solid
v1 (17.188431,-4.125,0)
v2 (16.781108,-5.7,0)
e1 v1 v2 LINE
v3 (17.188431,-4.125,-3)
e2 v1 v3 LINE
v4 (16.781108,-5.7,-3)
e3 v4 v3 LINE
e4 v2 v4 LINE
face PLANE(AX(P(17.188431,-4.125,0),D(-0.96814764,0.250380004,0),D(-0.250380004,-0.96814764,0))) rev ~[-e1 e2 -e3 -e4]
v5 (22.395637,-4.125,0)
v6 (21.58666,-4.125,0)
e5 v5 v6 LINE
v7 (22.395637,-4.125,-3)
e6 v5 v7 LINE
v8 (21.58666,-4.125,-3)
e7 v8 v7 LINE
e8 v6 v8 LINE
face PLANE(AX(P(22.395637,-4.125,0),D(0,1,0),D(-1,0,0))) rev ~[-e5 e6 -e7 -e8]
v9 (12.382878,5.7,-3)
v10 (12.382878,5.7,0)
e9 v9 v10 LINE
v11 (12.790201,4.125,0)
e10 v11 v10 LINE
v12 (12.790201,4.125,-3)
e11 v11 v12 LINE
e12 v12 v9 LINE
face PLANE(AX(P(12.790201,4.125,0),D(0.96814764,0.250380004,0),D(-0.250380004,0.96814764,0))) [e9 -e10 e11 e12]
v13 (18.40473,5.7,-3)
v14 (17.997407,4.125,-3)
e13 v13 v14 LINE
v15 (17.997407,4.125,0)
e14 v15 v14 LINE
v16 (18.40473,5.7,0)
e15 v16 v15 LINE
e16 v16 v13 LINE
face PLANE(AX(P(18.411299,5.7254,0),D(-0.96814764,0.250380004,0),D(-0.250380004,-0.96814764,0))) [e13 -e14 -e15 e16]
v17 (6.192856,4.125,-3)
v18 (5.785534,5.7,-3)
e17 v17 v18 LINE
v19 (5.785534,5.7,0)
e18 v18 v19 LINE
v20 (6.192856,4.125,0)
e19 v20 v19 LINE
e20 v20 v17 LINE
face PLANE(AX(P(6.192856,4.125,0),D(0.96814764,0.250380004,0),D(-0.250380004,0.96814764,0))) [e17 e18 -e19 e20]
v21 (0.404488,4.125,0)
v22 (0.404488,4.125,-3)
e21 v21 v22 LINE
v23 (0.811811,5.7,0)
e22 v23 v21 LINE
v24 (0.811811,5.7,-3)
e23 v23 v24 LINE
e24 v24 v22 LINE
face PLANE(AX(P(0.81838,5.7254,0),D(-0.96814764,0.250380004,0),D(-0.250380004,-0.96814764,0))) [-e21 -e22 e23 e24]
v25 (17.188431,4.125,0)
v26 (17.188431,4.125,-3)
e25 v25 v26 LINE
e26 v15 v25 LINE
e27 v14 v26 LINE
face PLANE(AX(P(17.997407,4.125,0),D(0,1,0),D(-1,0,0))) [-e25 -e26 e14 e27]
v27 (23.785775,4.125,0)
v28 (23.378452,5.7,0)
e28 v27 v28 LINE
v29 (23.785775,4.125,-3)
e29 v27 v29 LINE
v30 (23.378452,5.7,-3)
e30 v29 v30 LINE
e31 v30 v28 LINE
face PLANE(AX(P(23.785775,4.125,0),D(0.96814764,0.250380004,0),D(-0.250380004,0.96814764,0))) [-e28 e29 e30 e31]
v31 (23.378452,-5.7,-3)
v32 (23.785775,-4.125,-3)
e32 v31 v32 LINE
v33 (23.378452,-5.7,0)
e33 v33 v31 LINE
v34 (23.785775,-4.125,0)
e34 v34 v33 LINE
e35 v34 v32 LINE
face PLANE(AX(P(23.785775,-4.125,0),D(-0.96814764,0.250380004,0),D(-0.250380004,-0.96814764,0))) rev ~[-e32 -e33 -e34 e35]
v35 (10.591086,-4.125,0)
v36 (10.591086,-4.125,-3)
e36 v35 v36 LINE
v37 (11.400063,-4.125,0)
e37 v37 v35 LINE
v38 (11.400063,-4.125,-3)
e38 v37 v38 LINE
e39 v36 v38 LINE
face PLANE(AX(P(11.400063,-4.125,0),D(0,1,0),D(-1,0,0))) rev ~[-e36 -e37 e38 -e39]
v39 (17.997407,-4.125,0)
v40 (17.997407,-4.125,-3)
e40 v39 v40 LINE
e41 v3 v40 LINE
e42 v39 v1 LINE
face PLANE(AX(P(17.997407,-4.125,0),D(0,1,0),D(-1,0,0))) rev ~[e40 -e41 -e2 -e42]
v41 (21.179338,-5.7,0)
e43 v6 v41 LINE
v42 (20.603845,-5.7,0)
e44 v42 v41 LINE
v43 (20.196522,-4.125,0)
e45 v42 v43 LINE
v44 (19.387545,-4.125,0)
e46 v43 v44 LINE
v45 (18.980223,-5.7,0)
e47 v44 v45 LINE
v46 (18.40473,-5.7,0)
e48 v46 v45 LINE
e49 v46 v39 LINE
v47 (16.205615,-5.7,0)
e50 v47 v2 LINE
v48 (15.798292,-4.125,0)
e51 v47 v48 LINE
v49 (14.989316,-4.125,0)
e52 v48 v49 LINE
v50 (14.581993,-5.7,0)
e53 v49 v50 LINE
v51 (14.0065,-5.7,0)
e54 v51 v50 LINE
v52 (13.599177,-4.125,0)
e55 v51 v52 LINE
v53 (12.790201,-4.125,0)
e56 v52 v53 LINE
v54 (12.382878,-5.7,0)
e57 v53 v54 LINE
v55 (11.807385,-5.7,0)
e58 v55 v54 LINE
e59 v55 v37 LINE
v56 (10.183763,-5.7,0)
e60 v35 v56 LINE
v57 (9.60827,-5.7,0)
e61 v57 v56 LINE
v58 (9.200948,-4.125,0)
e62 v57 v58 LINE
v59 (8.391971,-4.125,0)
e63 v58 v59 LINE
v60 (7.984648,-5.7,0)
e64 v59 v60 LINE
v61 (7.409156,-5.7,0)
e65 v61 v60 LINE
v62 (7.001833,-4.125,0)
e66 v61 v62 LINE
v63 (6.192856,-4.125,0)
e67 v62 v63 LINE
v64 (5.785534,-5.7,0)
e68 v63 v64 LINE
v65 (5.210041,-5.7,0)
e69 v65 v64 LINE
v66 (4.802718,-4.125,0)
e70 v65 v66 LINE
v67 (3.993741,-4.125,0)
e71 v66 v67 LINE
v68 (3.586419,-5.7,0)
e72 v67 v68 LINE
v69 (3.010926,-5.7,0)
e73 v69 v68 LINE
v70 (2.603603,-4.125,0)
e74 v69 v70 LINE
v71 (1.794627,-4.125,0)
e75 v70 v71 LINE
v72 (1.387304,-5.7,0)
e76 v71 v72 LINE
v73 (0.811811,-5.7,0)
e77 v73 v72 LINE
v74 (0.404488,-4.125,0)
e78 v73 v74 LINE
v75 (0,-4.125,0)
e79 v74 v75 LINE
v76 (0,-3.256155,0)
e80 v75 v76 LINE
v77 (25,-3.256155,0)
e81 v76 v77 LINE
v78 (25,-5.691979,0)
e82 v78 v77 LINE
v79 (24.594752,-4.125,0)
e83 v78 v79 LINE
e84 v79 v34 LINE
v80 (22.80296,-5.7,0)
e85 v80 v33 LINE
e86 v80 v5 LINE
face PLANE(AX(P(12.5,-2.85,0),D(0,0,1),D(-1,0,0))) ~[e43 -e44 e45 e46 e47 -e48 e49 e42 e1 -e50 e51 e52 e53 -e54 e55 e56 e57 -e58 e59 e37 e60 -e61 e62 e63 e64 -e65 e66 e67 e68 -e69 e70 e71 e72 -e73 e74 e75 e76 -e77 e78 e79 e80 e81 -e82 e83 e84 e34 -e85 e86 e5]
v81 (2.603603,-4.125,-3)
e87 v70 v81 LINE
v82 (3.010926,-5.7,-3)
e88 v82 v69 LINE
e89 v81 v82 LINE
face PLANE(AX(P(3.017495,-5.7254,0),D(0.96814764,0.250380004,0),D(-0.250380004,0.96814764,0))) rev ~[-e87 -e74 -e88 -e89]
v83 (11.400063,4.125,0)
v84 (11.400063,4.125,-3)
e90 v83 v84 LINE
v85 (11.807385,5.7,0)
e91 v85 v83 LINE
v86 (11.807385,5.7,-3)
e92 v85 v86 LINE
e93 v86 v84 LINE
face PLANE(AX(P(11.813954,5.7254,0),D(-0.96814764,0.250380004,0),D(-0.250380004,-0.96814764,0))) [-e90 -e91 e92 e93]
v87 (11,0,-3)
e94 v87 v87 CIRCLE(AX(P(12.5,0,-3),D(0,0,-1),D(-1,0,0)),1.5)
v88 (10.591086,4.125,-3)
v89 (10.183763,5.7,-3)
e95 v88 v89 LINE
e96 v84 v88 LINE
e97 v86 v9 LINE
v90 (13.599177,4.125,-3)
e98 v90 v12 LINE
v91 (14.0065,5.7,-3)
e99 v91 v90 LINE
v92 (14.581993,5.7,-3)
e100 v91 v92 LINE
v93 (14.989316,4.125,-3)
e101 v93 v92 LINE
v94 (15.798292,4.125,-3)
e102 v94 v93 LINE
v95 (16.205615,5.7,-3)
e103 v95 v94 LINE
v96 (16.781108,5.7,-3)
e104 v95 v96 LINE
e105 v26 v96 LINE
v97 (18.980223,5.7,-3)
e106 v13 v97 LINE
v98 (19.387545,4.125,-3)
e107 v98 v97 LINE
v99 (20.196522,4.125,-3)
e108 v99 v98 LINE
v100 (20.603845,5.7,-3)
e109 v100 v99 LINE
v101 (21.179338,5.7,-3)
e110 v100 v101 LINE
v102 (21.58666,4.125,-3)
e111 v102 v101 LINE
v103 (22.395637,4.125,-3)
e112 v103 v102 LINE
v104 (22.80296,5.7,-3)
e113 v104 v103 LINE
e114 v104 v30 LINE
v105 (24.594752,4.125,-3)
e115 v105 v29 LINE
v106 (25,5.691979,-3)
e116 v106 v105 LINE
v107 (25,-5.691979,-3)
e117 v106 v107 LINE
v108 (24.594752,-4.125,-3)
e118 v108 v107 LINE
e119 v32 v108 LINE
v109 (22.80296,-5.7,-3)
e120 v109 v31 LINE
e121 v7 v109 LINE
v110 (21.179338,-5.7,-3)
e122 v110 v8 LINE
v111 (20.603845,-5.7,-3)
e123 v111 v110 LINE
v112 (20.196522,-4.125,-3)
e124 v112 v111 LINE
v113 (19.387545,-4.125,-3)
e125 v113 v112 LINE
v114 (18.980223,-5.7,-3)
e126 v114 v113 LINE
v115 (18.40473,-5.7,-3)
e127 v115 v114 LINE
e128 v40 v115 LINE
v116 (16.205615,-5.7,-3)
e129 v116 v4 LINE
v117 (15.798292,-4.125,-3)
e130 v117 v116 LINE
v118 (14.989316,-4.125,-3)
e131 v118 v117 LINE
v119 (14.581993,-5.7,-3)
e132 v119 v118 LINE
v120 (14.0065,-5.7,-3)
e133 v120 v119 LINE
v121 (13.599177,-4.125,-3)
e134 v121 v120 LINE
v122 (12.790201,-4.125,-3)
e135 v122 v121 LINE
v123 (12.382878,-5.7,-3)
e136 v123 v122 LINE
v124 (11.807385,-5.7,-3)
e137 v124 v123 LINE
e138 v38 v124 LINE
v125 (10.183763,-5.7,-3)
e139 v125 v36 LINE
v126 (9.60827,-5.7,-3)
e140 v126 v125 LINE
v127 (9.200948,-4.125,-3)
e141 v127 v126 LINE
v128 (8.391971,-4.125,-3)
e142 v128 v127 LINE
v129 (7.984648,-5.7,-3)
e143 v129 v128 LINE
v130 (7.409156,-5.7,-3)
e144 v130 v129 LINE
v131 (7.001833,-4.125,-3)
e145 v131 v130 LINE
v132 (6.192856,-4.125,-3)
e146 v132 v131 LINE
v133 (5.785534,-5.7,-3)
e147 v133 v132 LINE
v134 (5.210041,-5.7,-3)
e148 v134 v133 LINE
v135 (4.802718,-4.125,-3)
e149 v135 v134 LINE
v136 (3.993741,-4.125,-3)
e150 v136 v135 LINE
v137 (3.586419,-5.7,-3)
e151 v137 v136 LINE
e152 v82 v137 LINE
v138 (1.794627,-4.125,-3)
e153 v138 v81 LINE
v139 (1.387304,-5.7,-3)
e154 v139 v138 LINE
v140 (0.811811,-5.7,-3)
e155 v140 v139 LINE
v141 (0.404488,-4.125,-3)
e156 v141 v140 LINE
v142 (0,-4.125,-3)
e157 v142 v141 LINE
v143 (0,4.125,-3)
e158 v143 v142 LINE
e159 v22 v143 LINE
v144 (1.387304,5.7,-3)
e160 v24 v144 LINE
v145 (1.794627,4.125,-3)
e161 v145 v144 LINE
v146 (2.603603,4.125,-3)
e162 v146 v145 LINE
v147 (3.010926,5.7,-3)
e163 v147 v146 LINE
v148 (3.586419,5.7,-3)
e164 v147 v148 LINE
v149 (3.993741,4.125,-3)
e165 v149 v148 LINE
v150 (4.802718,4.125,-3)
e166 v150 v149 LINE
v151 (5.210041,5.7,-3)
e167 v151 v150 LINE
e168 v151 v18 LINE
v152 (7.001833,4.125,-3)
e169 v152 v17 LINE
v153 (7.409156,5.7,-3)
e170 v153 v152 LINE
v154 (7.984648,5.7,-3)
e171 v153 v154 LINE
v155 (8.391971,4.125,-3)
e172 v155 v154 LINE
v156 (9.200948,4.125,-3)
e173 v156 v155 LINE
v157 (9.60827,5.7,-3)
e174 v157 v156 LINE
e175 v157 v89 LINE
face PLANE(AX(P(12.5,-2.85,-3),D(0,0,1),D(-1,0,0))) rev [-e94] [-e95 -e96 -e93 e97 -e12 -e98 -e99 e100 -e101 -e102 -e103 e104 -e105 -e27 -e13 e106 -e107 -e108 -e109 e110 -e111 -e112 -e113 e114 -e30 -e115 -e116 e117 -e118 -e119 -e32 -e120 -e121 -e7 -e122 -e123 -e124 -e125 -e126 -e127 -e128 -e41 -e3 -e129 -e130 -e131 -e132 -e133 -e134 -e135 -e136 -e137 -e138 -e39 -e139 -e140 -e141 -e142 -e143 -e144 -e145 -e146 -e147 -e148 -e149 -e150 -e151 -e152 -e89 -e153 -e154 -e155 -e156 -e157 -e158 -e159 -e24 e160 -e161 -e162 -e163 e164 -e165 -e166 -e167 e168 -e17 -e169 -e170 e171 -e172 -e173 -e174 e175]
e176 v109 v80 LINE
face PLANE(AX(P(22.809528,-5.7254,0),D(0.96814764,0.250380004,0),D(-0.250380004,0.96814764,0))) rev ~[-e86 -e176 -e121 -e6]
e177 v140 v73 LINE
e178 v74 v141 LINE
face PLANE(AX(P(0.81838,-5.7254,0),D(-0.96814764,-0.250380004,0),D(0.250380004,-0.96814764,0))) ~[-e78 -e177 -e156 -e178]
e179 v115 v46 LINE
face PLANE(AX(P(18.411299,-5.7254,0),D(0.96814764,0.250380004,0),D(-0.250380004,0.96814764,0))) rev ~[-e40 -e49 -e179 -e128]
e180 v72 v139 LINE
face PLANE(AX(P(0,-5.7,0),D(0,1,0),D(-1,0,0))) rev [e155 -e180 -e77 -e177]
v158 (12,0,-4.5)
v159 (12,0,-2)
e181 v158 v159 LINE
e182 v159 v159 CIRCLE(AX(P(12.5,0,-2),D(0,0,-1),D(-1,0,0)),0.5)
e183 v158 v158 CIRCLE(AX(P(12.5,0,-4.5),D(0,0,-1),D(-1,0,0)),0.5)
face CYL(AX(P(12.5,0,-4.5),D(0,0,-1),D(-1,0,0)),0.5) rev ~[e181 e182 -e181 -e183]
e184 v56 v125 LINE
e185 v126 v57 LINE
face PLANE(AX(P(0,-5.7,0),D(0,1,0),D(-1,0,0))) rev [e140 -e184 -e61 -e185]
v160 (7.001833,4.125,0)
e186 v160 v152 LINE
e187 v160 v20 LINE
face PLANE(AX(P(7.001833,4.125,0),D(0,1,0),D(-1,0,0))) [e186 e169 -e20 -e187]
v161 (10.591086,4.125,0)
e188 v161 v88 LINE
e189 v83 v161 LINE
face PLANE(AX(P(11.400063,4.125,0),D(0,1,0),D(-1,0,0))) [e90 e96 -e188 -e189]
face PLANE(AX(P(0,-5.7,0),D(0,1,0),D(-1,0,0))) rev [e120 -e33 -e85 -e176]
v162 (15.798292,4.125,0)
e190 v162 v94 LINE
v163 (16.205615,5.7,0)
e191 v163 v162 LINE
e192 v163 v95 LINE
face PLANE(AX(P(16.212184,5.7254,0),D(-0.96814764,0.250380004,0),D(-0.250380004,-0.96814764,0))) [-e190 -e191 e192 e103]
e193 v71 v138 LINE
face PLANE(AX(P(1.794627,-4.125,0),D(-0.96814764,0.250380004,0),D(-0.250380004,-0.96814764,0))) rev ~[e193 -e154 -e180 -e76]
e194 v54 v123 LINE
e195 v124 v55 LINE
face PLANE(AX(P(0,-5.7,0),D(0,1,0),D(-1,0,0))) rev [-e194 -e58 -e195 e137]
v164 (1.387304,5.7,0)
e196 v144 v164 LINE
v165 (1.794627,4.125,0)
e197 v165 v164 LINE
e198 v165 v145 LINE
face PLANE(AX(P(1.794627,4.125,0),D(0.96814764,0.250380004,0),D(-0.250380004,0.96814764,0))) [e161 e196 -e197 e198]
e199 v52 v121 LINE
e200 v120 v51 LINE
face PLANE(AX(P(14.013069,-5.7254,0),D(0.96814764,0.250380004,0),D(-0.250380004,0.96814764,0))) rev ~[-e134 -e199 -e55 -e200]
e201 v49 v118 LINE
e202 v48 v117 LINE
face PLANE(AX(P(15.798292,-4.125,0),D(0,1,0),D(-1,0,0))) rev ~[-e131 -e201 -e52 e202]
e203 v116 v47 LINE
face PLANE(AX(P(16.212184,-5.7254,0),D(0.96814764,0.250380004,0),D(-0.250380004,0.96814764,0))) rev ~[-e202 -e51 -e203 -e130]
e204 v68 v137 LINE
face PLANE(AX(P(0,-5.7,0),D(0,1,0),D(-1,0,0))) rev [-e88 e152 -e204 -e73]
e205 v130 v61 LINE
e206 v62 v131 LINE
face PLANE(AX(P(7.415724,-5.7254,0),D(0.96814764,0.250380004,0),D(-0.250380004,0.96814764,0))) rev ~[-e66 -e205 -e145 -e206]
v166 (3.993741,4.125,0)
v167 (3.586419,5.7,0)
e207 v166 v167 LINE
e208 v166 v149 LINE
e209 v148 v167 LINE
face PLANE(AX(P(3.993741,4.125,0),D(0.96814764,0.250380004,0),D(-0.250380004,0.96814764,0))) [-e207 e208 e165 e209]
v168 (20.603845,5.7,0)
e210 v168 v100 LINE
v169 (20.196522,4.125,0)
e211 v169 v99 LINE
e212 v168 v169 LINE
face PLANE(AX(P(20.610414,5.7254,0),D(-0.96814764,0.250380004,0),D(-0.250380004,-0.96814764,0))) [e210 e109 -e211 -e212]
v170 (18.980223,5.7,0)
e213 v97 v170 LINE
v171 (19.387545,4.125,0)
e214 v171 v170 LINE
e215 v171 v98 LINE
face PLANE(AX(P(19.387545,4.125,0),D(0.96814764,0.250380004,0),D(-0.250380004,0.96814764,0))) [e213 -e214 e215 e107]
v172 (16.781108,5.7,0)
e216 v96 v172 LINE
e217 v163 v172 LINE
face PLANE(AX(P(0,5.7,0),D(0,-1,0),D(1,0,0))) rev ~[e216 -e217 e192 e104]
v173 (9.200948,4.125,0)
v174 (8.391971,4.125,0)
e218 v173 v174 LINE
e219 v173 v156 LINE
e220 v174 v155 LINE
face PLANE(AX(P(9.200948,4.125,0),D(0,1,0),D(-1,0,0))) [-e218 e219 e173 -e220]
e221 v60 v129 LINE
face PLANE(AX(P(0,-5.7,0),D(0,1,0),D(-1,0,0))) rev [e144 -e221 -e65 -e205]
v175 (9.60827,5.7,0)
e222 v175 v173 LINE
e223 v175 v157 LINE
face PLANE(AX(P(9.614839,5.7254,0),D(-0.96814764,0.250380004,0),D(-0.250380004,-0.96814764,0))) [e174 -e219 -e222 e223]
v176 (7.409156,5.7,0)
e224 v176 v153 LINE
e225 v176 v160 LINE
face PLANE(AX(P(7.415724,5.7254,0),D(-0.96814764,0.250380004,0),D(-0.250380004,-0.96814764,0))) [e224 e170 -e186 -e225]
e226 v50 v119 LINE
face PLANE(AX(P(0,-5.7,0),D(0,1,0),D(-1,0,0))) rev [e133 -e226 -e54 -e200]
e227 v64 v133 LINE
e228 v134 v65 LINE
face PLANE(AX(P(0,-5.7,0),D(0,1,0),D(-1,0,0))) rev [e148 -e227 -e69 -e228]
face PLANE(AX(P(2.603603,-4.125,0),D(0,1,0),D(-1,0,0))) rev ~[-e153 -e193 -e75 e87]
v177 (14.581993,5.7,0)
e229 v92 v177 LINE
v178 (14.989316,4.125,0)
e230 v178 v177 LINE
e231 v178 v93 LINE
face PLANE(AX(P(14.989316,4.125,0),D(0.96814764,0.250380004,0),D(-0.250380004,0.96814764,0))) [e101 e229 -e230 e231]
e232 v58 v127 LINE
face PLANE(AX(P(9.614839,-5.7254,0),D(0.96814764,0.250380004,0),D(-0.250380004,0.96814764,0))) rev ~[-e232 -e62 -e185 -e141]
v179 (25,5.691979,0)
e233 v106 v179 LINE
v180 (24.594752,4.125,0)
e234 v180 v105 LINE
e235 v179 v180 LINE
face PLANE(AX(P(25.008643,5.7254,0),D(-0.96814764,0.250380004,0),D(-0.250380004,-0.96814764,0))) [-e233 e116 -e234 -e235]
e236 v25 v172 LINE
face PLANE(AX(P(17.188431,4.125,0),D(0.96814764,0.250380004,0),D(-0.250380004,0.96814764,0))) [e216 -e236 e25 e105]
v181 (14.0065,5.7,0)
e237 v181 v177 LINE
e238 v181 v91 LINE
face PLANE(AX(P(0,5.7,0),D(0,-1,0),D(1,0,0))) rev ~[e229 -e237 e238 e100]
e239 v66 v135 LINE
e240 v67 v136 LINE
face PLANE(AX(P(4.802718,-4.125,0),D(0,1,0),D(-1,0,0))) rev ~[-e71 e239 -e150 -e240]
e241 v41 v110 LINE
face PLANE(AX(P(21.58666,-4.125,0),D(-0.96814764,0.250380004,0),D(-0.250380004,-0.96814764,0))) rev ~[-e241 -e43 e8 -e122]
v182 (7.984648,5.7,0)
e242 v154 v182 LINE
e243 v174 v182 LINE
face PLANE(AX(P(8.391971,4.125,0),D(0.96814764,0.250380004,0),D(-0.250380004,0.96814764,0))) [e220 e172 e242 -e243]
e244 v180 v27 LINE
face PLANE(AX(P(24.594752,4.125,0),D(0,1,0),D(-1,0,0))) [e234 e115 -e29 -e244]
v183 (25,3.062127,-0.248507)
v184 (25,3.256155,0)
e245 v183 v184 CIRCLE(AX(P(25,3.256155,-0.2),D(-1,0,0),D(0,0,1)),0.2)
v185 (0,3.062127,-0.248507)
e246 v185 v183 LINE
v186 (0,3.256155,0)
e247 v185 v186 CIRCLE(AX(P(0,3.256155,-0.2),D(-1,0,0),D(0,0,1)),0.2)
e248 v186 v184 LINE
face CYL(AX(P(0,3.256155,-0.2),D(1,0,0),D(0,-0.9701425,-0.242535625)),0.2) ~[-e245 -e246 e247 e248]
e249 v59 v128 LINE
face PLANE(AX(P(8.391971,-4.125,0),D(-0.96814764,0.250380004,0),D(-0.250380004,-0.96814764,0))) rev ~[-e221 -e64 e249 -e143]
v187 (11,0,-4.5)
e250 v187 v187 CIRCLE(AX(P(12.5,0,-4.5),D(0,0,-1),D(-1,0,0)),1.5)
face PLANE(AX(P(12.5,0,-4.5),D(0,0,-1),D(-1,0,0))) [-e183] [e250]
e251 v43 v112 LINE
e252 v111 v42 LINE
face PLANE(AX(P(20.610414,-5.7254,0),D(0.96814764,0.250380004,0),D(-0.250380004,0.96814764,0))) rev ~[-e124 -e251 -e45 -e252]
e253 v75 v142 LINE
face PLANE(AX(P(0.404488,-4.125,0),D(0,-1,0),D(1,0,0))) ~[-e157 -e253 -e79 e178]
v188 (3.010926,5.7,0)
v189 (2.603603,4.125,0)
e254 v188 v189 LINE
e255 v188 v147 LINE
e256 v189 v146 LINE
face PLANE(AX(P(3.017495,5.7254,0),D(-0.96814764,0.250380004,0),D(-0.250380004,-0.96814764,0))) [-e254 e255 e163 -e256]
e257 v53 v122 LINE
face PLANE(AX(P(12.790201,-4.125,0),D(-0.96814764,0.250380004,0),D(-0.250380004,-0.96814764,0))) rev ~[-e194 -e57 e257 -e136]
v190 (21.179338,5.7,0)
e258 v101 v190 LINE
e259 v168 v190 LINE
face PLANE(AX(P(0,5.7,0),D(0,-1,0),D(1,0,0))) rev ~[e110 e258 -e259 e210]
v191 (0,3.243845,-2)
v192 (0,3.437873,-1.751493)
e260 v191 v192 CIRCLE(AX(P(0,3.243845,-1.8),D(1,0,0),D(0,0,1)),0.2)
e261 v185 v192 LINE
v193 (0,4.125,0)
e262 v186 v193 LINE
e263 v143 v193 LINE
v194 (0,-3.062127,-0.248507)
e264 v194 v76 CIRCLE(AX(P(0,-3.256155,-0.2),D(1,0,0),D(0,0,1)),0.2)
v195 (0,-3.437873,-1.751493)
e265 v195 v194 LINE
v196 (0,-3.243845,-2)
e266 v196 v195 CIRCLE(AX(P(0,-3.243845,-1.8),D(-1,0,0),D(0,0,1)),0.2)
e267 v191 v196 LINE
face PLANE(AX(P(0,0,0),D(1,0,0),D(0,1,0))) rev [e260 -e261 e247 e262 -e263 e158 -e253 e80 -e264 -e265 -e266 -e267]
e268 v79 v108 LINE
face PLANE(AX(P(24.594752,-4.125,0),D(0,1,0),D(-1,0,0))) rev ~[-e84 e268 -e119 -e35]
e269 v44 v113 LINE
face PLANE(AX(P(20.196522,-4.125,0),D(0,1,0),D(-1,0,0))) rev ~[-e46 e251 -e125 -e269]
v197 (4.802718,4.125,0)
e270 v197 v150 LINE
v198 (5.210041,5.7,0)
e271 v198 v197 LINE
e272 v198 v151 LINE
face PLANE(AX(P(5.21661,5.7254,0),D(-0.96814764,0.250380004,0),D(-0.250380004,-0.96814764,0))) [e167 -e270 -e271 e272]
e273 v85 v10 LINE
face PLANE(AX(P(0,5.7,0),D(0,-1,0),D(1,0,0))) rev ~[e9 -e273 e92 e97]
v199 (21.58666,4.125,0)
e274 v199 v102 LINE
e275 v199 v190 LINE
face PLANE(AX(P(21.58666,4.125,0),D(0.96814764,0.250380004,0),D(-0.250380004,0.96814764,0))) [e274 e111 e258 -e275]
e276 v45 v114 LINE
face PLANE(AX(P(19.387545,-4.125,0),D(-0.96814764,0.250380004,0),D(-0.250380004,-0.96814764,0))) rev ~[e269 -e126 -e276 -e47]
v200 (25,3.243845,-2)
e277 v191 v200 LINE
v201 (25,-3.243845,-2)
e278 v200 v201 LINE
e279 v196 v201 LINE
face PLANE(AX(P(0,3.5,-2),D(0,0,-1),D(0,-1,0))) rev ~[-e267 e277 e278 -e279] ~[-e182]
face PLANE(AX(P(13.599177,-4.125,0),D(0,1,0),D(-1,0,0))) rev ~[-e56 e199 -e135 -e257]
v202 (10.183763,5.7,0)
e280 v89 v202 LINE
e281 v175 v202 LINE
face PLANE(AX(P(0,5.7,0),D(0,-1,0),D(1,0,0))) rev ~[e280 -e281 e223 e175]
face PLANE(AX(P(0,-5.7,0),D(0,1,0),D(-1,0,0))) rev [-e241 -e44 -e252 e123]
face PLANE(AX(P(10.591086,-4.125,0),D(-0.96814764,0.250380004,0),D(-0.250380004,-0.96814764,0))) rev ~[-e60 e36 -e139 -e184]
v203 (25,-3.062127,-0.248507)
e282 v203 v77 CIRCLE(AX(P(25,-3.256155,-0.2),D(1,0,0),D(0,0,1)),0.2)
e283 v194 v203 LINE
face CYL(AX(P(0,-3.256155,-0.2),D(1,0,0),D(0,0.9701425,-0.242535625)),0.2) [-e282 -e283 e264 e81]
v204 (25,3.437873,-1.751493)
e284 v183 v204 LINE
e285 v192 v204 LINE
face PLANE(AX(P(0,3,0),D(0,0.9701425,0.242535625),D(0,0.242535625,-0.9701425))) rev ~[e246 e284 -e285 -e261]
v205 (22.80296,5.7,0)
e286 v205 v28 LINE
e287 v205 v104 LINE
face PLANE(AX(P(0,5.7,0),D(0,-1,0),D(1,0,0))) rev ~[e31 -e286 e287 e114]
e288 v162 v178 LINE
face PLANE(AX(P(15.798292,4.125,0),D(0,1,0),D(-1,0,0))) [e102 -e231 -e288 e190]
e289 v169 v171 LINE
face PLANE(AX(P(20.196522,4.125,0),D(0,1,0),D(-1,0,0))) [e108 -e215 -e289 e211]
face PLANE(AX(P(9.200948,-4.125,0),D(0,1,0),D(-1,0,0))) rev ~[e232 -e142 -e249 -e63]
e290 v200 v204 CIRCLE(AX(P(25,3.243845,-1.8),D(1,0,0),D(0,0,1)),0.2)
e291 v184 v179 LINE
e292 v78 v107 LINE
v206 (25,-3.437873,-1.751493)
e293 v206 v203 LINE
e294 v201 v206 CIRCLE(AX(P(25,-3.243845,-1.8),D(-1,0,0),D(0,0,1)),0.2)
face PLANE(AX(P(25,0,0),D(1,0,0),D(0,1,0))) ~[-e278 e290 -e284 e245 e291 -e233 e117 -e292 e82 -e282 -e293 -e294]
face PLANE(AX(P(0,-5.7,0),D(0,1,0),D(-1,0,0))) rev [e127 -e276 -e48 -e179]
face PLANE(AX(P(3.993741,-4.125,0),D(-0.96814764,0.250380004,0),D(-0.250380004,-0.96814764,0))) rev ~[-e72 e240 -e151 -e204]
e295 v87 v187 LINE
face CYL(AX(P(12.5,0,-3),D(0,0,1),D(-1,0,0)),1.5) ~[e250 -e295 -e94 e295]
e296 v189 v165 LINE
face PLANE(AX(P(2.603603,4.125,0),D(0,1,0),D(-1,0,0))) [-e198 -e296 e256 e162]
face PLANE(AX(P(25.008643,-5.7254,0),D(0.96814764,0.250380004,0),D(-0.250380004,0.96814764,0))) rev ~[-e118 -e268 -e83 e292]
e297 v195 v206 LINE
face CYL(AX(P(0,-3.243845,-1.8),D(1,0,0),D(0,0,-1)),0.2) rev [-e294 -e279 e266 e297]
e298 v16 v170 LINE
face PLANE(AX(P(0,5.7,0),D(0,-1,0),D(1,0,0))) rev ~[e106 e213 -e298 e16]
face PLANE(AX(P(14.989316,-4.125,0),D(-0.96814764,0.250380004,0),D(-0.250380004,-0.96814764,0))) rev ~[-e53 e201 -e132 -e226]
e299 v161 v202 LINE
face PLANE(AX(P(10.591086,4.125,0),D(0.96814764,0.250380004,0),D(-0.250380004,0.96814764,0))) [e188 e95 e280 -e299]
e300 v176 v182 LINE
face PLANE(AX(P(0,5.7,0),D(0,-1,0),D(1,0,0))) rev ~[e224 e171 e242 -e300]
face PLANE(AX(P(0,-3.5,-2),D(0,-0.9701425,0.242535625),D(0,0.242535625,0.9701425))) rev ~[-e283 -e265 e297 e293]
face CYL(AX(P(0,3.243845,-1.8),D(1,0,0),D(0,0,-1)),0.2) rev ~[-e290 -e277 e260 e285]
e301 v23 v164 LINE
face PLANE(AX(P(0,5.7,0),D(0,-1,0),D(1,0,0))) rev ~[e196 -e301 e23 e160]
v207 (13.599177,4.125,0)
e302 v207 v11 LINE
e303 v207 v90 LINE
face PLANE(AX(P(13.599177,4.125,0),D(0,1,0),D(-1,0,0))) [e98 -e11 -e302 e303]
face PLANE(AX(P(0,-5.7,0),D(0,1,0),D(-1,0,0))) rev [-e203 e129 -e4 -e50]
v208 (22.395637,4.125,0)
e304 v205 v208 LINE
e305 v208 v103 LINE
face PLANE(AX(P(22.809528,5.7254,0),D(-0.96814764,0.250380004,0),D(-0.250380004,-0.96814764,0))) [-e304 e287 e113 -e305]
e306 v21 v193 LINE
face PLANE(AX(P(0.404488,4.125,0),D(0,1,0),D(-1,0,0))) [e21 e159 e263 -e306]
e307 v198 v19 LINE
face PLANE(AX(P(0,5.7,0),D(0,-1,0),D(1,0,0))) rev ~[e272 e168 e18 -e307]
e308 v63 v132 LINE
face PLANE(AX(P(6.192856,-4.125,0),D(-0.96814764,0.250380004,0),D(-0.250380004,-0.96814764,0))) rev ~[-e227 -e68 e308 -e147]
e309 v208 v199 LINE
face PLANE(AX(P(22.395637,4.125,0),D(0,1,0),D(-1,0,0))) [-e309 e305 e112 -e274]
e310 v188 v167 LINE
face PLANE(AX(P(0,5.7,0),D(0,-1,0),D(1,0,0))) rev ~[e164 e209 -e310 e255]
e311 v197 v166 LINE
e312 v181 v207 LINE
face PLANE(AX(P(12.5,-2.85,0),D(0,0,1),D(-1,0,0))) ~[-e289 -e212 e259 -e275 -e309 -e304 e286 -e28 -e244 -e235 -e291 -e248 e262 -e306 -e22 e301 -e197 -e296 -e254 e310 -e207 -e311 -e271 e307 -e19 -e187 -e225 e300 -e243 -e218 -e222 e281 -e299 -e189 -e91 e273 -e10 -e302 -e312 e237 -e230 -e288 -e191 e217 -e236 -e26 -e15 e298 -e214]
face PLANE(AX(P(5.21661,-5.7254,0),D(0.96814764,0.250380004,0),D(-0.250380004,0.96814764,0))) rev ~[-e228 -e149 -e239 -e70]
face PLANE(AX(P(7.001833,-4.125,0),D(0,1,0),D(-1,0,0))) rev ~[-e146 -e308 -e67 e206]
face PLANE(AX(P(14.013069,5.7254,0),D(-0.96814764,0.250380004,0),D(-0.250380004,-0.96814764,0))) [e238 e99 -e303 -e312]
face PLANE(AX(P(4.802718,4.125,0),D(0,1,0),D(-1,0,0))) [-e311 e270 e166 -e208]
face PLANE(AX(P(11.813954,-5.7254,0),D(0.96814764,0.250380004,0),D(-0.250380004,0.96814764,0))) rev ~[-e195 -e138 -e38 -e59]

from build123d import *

# Parameters (mm, degrees)
BLANKSKE_W             = 25
BLANKSKE_H             = 5.7
BLANK_DEPTH            = 3
TOOTHCUTSIM_DEPTH      = 26.816467613
TEETHCUTS_COUNT        = 12
TEETHCUTS_PITCH        = 2.199114855
MIRROR_2_COPY_1_DEPTH  = 26.816467613
MIRROR_2_COPY_2_DEPTH  = 26.816467613
MIRROR_2_COPY_3_DEPTH  = 26.816467613
MIRROR_2_COPY_4_DEPTH  = 26.816467613
MIRROR_2_COPY_5_DEPTH  = 26.816467613
MIRROR_2_COPY_6_DEPTH  = 26.816467613
MIRROR_2_COPY_7_DEPTH  = 26.816467613
MIRROR_2_COPY_8_DEPTH  = 26.816467613
MIRROR_2_COPY_9_DEPTH  = 26.816467613
MIRROR_2_COPY_10_DEPTH = 26.816467613
MIRROR_2_COPY_11_DEPTH = 26.816467613
CUT_EXTRUDE_2_DEPTH    = 26.816467613
FILLET_1_R             = 0.2
FILLET_2_R             = 0.2
FILLET_3_R             = 0.2
SKETCH_2_R             = 1.5
EXTRUDE_1_DEPTH        = 1.5
SKETCH_3_R             = 0.5
CUT_EXTRUDE_3_DEPTH    = 27.033440034


with BuildPart() as part:
    # BlankSke → Blank (new body)
    with BuildSketch(Plane.XY):
        with Locations((12.5, 2.85)):
            Rectangle(BLANKSKE_W, BLANKSKE_H)
    blank = extrude(amount=-BLANK_DEPTH)

    # TooCutSkeSim → ToothCutSim (cut, through all)
    with BuildSketch(Plane.XY):
        Polygon((0.404488327, 4.125), (-0.404488327, 4.125), (-0.818379909, 5.7254), (0.818379909, 5.7254), align=None)
    toothcutsim = extrude(amount=-TOOTHCUTSIM_DEPTH, mode=Mode.SUBTRACT)

    # TeethCuts: ToothCutSim ×12
    with Locations(*[(i * TEETHCUTS_PITCH, 0, 0) for i in range(1, TEETHCUTS_COUNT)]):
        add(toothcutsim, mode=Mode.SUBTRACT)

    # 镜向2: Blank, ToothCutSim across plane
    add(blank.mirror(Plane(origin=(0, 0, -3), x_dir=(0, 0, 1), z_dir=(0, -1, 0))))
    add(toothcutsim.mirror(Plane(origin=(0, 0, -3), x_dir=(0, 0, 1), z_dir=(0, -1, 0))), mode=Mode.SUBTRACT)

    # 镜向2 copy 1 sketch → 镜向2 copy 1 (cut, through all)
    with BuildSketch(Plane(origin=(2.199114855, 0, 0), x_dir=(1, 0, 0), z_dir=(0, 0, 1))):
        Polygon((0.404488327, -4.125), (-0.404488327, -4.125), (-0.818379909, -5.7254), (0.818379909, -5.7254), align=None)
    extrude(amount=-MIRROR_2_COPY_1_DEPTH, mode=Mode.SUBTRACT)

    # 镜向2 copy 2 sketch → 镜向2 copy 2 (cut, through all)
    with BuildSketch(Plane(origin=(4.39822971, 0, 0), x_dir=(1, 0, 0), z_dir=(0, 0, 1))):
        Polygon((0.404488327, -4.125), (-0.404488327, -4.125), (-0.818379909, -5.7254), (0.818379909, -5.7254), align=None)
    extrude(amount=-MIRROR_2_COPY_2_DEPTH, mode=Mode.SUBTRACT)

    # 镜向2 copy 3 sketch → 镜向2 copy 3 (cut, through all)
    with BuildSketch(Plane(origin=(6.597344565, 0, 0), x_dir=(1, 0, 0), z_dir=(0, 0, 1))):
        Polygon((0.404488327, -4.125), (-0.404488327, -4.125), (-0.818379909, -5.7254), (0.818379909, -5.7254), align=None)
    extrude(amount=-MIRROR_2_COPY_3_DEPTH, mode=Mode.SUBTRACT)

    # 镜向2 copy 4 sketch → 镜向2 copy 4 (cut, through all)
    with BuildSketch(Plane(origin=(8.79645942, 0, 0), x_dir=(1, 0, 0), z_dir=(0, 0, 1))):
        Polygon((0.404488327, -4.125), (-0.404488327, -4.125), (-0.818379909, -5.7254), (0.818379909, -5.7254), align=None)
    extrude(amount=-MIRROR_2_COPY_4_DEPTH, mode=Mode.SUBTRACT)

    # 镜向2 copy 5 sketch → 镜向2 copy 5 (cut, through all)
    with BuildSketch(Plane(origin=(10.995574275, 0, 0), x_dir=(1, 0, 0), z_dir=(0, 0, 1))):
        Polygon((0.404488327, -4.125), (-0.404488327, -4.125), (-0.818379909, -5.7254), (0.818379909, -5.7254), align=None)
    extrude(amount=-MIRROR_2_COPY_5_DEPTH, mode=Mode.SUBTRACT)

    # 镜向2 copy 6 sketch → 镜向2 copy 6 (cut, through all)
    with BuildSketch(Plane(origin=(13.19468913, 0, 0), x_dir=(1, 0, 0), z_dir=(0, 0, 1))):
        Polygon((0.404488327, -4.125), (-0.404488327, -4.125), (-0.818379909, -5.7254), (0.818379909, -5.7254), align=None)
    extrude(amount=-MIRROR_2_COPY_6_DEPTH, mode=Mode.SUBTRACT)

    # 镜向2 copy 7 sketch → 镜向2 copy 7 (cut, through all)
    with BuildSketch(Plane(origin=(15.393803985, 0, 0), x_dir=(1, 0, 0), z_dir=(0, 0, 1))):
        Polygon((0.404488327, -4.125), (-0.404488327, -4.125), (-0.818379909, -5.7254), (0.818379909, -5.7254), align=None)
    extrude(amount=-MIRROR_2_COPY_7_DEPTH, mode=Mode.SUBTRACT)

    # 镜向2 copy 8 sketch → 镜向2 copy 8 (cut, through all)
    with BuildSketch(Plane(origin=(17.59291884, 0, 0), x_dir=(1, 0, 0), z_dir=(0, 0, 1))):
        Polygon((0.404488327, -4.125), (-0.404488327, -4.125), (-0.818379909, -5.7254), (0.818379909, -5.7254), align=None)
    extrude(amount=-MIRROR_2_COPY_8_DEPTH, mode=Mode.SUBTRACT)

    # 镜向2 copy 9 sketch → 镜向2 copy 9 (cut, through all)
    with BuildSketch(Plane(origin=(19.792033695, 0, 0), x_dir=(1, 0, 0), z_dir=(0, 0, 1))):
        Polygon((0.404488327, -4.125), (-0.404488327, -4.125), (-0.818379909, -5.7254), (0.818379909, -5.7254), align=None)
    extrude(amount=-MIRROR_2_COPY_9_DEPTH, mode=Mode.SUBTRACT)

    # 镜向2 copy 10 sketch → 镜向2 copy 10 (cut, through all)
    with BuildSketch(Plane(origin=(21.99114855, 0, 0), x_dir=(1, 0, 0), z_dir=(0, 0, 1))):
        Polygon((0.404488327, -4.125), (-0.404488327, -4.125), (-0.818379909, -5.7254), (0.818379909, -5.7254), align=None)
    extrude(amount=-MIRROR_2_COPY_10_DEPTH, mode=Mode.SUBTRACT)

    # 镜向2 copy 11 sketch → 镜向2 copy 11 (cut, through all)
    with BuildSketch(Plane(origin=(24.190263405, 0, 0), x_dir=(1, 0, 0), z_dir=(0, 0, 1))):
        Polygon((0.404488327, -4.125), (-0.404488327, -4.125), (-0.818379909, -5.7254), (0.818379909, -5.7254), align=None)
    extrude(amount=-MIRROR_2_COPY_11_DEPTH, mode=Mode.SUBTRACT)

    # 草图1 → 切除-拉伸2 (cut, through all)
    with BuildSketch(Plane.ZY):
        Polygon((0, -3), (0, 3), (-2, 3.5), (-2, -3.5), align=None)
    extrude(amount=-CUT_EXTRUDE_2_DEPTH, mode=Mode.SUBTRACT)

    # 圆角1
    fillet_1_edges = [part.edges().sort_by_distance(p)[0] for p in [
        (12.5, -3.5, -2),
    ]]
    fillet(fillet_1_edges, radius=FILLET_1_R)

    # 圆角2
    fillet_2_edges = [part.edges().sort_by_distance(p)[0] for p in [
        (12.5, 3.5, -2),
    ]]
    fillet(fillet_2_edges, radius=FILLET_2_R)

    # 圆角3
    fillet_3_edges = [part.edges().sort_by_distance(p)[0] for p in [
        (12.5, -3, 0),
        (12.5, 3, 0),
    ]]
    fillet(fillet_3_edges, radius=FILLET_3_R)

    # 草图2 → 凸台-拉伸1 (add)
    with BuildSketch(Plane(origin=(0, 0, -3), x_dir=(-1, 0, 0), z_dir=(0, 0, -1))):
        with Locations((-12.5, 0)):
            Circle(SKETCH_2_R)
    extrude(amount=EXTRUDE_1_DEPTH)

    # 草图3 → 切除-拉伸3 (cut, through all)
    with BuildSketch(Plane(origin=(0, 0, -4.5), x_dir=(-1, 0, 0), z_dir=(0, 0, -1))):
        with Locations((-12.5, 0)):
            Circle(SKETCH_3_R)
    extrude(amount=-CUT_EXTRUDE_3_DEPTH, mode=Mode.SUBTRACT)


solid = part.part
